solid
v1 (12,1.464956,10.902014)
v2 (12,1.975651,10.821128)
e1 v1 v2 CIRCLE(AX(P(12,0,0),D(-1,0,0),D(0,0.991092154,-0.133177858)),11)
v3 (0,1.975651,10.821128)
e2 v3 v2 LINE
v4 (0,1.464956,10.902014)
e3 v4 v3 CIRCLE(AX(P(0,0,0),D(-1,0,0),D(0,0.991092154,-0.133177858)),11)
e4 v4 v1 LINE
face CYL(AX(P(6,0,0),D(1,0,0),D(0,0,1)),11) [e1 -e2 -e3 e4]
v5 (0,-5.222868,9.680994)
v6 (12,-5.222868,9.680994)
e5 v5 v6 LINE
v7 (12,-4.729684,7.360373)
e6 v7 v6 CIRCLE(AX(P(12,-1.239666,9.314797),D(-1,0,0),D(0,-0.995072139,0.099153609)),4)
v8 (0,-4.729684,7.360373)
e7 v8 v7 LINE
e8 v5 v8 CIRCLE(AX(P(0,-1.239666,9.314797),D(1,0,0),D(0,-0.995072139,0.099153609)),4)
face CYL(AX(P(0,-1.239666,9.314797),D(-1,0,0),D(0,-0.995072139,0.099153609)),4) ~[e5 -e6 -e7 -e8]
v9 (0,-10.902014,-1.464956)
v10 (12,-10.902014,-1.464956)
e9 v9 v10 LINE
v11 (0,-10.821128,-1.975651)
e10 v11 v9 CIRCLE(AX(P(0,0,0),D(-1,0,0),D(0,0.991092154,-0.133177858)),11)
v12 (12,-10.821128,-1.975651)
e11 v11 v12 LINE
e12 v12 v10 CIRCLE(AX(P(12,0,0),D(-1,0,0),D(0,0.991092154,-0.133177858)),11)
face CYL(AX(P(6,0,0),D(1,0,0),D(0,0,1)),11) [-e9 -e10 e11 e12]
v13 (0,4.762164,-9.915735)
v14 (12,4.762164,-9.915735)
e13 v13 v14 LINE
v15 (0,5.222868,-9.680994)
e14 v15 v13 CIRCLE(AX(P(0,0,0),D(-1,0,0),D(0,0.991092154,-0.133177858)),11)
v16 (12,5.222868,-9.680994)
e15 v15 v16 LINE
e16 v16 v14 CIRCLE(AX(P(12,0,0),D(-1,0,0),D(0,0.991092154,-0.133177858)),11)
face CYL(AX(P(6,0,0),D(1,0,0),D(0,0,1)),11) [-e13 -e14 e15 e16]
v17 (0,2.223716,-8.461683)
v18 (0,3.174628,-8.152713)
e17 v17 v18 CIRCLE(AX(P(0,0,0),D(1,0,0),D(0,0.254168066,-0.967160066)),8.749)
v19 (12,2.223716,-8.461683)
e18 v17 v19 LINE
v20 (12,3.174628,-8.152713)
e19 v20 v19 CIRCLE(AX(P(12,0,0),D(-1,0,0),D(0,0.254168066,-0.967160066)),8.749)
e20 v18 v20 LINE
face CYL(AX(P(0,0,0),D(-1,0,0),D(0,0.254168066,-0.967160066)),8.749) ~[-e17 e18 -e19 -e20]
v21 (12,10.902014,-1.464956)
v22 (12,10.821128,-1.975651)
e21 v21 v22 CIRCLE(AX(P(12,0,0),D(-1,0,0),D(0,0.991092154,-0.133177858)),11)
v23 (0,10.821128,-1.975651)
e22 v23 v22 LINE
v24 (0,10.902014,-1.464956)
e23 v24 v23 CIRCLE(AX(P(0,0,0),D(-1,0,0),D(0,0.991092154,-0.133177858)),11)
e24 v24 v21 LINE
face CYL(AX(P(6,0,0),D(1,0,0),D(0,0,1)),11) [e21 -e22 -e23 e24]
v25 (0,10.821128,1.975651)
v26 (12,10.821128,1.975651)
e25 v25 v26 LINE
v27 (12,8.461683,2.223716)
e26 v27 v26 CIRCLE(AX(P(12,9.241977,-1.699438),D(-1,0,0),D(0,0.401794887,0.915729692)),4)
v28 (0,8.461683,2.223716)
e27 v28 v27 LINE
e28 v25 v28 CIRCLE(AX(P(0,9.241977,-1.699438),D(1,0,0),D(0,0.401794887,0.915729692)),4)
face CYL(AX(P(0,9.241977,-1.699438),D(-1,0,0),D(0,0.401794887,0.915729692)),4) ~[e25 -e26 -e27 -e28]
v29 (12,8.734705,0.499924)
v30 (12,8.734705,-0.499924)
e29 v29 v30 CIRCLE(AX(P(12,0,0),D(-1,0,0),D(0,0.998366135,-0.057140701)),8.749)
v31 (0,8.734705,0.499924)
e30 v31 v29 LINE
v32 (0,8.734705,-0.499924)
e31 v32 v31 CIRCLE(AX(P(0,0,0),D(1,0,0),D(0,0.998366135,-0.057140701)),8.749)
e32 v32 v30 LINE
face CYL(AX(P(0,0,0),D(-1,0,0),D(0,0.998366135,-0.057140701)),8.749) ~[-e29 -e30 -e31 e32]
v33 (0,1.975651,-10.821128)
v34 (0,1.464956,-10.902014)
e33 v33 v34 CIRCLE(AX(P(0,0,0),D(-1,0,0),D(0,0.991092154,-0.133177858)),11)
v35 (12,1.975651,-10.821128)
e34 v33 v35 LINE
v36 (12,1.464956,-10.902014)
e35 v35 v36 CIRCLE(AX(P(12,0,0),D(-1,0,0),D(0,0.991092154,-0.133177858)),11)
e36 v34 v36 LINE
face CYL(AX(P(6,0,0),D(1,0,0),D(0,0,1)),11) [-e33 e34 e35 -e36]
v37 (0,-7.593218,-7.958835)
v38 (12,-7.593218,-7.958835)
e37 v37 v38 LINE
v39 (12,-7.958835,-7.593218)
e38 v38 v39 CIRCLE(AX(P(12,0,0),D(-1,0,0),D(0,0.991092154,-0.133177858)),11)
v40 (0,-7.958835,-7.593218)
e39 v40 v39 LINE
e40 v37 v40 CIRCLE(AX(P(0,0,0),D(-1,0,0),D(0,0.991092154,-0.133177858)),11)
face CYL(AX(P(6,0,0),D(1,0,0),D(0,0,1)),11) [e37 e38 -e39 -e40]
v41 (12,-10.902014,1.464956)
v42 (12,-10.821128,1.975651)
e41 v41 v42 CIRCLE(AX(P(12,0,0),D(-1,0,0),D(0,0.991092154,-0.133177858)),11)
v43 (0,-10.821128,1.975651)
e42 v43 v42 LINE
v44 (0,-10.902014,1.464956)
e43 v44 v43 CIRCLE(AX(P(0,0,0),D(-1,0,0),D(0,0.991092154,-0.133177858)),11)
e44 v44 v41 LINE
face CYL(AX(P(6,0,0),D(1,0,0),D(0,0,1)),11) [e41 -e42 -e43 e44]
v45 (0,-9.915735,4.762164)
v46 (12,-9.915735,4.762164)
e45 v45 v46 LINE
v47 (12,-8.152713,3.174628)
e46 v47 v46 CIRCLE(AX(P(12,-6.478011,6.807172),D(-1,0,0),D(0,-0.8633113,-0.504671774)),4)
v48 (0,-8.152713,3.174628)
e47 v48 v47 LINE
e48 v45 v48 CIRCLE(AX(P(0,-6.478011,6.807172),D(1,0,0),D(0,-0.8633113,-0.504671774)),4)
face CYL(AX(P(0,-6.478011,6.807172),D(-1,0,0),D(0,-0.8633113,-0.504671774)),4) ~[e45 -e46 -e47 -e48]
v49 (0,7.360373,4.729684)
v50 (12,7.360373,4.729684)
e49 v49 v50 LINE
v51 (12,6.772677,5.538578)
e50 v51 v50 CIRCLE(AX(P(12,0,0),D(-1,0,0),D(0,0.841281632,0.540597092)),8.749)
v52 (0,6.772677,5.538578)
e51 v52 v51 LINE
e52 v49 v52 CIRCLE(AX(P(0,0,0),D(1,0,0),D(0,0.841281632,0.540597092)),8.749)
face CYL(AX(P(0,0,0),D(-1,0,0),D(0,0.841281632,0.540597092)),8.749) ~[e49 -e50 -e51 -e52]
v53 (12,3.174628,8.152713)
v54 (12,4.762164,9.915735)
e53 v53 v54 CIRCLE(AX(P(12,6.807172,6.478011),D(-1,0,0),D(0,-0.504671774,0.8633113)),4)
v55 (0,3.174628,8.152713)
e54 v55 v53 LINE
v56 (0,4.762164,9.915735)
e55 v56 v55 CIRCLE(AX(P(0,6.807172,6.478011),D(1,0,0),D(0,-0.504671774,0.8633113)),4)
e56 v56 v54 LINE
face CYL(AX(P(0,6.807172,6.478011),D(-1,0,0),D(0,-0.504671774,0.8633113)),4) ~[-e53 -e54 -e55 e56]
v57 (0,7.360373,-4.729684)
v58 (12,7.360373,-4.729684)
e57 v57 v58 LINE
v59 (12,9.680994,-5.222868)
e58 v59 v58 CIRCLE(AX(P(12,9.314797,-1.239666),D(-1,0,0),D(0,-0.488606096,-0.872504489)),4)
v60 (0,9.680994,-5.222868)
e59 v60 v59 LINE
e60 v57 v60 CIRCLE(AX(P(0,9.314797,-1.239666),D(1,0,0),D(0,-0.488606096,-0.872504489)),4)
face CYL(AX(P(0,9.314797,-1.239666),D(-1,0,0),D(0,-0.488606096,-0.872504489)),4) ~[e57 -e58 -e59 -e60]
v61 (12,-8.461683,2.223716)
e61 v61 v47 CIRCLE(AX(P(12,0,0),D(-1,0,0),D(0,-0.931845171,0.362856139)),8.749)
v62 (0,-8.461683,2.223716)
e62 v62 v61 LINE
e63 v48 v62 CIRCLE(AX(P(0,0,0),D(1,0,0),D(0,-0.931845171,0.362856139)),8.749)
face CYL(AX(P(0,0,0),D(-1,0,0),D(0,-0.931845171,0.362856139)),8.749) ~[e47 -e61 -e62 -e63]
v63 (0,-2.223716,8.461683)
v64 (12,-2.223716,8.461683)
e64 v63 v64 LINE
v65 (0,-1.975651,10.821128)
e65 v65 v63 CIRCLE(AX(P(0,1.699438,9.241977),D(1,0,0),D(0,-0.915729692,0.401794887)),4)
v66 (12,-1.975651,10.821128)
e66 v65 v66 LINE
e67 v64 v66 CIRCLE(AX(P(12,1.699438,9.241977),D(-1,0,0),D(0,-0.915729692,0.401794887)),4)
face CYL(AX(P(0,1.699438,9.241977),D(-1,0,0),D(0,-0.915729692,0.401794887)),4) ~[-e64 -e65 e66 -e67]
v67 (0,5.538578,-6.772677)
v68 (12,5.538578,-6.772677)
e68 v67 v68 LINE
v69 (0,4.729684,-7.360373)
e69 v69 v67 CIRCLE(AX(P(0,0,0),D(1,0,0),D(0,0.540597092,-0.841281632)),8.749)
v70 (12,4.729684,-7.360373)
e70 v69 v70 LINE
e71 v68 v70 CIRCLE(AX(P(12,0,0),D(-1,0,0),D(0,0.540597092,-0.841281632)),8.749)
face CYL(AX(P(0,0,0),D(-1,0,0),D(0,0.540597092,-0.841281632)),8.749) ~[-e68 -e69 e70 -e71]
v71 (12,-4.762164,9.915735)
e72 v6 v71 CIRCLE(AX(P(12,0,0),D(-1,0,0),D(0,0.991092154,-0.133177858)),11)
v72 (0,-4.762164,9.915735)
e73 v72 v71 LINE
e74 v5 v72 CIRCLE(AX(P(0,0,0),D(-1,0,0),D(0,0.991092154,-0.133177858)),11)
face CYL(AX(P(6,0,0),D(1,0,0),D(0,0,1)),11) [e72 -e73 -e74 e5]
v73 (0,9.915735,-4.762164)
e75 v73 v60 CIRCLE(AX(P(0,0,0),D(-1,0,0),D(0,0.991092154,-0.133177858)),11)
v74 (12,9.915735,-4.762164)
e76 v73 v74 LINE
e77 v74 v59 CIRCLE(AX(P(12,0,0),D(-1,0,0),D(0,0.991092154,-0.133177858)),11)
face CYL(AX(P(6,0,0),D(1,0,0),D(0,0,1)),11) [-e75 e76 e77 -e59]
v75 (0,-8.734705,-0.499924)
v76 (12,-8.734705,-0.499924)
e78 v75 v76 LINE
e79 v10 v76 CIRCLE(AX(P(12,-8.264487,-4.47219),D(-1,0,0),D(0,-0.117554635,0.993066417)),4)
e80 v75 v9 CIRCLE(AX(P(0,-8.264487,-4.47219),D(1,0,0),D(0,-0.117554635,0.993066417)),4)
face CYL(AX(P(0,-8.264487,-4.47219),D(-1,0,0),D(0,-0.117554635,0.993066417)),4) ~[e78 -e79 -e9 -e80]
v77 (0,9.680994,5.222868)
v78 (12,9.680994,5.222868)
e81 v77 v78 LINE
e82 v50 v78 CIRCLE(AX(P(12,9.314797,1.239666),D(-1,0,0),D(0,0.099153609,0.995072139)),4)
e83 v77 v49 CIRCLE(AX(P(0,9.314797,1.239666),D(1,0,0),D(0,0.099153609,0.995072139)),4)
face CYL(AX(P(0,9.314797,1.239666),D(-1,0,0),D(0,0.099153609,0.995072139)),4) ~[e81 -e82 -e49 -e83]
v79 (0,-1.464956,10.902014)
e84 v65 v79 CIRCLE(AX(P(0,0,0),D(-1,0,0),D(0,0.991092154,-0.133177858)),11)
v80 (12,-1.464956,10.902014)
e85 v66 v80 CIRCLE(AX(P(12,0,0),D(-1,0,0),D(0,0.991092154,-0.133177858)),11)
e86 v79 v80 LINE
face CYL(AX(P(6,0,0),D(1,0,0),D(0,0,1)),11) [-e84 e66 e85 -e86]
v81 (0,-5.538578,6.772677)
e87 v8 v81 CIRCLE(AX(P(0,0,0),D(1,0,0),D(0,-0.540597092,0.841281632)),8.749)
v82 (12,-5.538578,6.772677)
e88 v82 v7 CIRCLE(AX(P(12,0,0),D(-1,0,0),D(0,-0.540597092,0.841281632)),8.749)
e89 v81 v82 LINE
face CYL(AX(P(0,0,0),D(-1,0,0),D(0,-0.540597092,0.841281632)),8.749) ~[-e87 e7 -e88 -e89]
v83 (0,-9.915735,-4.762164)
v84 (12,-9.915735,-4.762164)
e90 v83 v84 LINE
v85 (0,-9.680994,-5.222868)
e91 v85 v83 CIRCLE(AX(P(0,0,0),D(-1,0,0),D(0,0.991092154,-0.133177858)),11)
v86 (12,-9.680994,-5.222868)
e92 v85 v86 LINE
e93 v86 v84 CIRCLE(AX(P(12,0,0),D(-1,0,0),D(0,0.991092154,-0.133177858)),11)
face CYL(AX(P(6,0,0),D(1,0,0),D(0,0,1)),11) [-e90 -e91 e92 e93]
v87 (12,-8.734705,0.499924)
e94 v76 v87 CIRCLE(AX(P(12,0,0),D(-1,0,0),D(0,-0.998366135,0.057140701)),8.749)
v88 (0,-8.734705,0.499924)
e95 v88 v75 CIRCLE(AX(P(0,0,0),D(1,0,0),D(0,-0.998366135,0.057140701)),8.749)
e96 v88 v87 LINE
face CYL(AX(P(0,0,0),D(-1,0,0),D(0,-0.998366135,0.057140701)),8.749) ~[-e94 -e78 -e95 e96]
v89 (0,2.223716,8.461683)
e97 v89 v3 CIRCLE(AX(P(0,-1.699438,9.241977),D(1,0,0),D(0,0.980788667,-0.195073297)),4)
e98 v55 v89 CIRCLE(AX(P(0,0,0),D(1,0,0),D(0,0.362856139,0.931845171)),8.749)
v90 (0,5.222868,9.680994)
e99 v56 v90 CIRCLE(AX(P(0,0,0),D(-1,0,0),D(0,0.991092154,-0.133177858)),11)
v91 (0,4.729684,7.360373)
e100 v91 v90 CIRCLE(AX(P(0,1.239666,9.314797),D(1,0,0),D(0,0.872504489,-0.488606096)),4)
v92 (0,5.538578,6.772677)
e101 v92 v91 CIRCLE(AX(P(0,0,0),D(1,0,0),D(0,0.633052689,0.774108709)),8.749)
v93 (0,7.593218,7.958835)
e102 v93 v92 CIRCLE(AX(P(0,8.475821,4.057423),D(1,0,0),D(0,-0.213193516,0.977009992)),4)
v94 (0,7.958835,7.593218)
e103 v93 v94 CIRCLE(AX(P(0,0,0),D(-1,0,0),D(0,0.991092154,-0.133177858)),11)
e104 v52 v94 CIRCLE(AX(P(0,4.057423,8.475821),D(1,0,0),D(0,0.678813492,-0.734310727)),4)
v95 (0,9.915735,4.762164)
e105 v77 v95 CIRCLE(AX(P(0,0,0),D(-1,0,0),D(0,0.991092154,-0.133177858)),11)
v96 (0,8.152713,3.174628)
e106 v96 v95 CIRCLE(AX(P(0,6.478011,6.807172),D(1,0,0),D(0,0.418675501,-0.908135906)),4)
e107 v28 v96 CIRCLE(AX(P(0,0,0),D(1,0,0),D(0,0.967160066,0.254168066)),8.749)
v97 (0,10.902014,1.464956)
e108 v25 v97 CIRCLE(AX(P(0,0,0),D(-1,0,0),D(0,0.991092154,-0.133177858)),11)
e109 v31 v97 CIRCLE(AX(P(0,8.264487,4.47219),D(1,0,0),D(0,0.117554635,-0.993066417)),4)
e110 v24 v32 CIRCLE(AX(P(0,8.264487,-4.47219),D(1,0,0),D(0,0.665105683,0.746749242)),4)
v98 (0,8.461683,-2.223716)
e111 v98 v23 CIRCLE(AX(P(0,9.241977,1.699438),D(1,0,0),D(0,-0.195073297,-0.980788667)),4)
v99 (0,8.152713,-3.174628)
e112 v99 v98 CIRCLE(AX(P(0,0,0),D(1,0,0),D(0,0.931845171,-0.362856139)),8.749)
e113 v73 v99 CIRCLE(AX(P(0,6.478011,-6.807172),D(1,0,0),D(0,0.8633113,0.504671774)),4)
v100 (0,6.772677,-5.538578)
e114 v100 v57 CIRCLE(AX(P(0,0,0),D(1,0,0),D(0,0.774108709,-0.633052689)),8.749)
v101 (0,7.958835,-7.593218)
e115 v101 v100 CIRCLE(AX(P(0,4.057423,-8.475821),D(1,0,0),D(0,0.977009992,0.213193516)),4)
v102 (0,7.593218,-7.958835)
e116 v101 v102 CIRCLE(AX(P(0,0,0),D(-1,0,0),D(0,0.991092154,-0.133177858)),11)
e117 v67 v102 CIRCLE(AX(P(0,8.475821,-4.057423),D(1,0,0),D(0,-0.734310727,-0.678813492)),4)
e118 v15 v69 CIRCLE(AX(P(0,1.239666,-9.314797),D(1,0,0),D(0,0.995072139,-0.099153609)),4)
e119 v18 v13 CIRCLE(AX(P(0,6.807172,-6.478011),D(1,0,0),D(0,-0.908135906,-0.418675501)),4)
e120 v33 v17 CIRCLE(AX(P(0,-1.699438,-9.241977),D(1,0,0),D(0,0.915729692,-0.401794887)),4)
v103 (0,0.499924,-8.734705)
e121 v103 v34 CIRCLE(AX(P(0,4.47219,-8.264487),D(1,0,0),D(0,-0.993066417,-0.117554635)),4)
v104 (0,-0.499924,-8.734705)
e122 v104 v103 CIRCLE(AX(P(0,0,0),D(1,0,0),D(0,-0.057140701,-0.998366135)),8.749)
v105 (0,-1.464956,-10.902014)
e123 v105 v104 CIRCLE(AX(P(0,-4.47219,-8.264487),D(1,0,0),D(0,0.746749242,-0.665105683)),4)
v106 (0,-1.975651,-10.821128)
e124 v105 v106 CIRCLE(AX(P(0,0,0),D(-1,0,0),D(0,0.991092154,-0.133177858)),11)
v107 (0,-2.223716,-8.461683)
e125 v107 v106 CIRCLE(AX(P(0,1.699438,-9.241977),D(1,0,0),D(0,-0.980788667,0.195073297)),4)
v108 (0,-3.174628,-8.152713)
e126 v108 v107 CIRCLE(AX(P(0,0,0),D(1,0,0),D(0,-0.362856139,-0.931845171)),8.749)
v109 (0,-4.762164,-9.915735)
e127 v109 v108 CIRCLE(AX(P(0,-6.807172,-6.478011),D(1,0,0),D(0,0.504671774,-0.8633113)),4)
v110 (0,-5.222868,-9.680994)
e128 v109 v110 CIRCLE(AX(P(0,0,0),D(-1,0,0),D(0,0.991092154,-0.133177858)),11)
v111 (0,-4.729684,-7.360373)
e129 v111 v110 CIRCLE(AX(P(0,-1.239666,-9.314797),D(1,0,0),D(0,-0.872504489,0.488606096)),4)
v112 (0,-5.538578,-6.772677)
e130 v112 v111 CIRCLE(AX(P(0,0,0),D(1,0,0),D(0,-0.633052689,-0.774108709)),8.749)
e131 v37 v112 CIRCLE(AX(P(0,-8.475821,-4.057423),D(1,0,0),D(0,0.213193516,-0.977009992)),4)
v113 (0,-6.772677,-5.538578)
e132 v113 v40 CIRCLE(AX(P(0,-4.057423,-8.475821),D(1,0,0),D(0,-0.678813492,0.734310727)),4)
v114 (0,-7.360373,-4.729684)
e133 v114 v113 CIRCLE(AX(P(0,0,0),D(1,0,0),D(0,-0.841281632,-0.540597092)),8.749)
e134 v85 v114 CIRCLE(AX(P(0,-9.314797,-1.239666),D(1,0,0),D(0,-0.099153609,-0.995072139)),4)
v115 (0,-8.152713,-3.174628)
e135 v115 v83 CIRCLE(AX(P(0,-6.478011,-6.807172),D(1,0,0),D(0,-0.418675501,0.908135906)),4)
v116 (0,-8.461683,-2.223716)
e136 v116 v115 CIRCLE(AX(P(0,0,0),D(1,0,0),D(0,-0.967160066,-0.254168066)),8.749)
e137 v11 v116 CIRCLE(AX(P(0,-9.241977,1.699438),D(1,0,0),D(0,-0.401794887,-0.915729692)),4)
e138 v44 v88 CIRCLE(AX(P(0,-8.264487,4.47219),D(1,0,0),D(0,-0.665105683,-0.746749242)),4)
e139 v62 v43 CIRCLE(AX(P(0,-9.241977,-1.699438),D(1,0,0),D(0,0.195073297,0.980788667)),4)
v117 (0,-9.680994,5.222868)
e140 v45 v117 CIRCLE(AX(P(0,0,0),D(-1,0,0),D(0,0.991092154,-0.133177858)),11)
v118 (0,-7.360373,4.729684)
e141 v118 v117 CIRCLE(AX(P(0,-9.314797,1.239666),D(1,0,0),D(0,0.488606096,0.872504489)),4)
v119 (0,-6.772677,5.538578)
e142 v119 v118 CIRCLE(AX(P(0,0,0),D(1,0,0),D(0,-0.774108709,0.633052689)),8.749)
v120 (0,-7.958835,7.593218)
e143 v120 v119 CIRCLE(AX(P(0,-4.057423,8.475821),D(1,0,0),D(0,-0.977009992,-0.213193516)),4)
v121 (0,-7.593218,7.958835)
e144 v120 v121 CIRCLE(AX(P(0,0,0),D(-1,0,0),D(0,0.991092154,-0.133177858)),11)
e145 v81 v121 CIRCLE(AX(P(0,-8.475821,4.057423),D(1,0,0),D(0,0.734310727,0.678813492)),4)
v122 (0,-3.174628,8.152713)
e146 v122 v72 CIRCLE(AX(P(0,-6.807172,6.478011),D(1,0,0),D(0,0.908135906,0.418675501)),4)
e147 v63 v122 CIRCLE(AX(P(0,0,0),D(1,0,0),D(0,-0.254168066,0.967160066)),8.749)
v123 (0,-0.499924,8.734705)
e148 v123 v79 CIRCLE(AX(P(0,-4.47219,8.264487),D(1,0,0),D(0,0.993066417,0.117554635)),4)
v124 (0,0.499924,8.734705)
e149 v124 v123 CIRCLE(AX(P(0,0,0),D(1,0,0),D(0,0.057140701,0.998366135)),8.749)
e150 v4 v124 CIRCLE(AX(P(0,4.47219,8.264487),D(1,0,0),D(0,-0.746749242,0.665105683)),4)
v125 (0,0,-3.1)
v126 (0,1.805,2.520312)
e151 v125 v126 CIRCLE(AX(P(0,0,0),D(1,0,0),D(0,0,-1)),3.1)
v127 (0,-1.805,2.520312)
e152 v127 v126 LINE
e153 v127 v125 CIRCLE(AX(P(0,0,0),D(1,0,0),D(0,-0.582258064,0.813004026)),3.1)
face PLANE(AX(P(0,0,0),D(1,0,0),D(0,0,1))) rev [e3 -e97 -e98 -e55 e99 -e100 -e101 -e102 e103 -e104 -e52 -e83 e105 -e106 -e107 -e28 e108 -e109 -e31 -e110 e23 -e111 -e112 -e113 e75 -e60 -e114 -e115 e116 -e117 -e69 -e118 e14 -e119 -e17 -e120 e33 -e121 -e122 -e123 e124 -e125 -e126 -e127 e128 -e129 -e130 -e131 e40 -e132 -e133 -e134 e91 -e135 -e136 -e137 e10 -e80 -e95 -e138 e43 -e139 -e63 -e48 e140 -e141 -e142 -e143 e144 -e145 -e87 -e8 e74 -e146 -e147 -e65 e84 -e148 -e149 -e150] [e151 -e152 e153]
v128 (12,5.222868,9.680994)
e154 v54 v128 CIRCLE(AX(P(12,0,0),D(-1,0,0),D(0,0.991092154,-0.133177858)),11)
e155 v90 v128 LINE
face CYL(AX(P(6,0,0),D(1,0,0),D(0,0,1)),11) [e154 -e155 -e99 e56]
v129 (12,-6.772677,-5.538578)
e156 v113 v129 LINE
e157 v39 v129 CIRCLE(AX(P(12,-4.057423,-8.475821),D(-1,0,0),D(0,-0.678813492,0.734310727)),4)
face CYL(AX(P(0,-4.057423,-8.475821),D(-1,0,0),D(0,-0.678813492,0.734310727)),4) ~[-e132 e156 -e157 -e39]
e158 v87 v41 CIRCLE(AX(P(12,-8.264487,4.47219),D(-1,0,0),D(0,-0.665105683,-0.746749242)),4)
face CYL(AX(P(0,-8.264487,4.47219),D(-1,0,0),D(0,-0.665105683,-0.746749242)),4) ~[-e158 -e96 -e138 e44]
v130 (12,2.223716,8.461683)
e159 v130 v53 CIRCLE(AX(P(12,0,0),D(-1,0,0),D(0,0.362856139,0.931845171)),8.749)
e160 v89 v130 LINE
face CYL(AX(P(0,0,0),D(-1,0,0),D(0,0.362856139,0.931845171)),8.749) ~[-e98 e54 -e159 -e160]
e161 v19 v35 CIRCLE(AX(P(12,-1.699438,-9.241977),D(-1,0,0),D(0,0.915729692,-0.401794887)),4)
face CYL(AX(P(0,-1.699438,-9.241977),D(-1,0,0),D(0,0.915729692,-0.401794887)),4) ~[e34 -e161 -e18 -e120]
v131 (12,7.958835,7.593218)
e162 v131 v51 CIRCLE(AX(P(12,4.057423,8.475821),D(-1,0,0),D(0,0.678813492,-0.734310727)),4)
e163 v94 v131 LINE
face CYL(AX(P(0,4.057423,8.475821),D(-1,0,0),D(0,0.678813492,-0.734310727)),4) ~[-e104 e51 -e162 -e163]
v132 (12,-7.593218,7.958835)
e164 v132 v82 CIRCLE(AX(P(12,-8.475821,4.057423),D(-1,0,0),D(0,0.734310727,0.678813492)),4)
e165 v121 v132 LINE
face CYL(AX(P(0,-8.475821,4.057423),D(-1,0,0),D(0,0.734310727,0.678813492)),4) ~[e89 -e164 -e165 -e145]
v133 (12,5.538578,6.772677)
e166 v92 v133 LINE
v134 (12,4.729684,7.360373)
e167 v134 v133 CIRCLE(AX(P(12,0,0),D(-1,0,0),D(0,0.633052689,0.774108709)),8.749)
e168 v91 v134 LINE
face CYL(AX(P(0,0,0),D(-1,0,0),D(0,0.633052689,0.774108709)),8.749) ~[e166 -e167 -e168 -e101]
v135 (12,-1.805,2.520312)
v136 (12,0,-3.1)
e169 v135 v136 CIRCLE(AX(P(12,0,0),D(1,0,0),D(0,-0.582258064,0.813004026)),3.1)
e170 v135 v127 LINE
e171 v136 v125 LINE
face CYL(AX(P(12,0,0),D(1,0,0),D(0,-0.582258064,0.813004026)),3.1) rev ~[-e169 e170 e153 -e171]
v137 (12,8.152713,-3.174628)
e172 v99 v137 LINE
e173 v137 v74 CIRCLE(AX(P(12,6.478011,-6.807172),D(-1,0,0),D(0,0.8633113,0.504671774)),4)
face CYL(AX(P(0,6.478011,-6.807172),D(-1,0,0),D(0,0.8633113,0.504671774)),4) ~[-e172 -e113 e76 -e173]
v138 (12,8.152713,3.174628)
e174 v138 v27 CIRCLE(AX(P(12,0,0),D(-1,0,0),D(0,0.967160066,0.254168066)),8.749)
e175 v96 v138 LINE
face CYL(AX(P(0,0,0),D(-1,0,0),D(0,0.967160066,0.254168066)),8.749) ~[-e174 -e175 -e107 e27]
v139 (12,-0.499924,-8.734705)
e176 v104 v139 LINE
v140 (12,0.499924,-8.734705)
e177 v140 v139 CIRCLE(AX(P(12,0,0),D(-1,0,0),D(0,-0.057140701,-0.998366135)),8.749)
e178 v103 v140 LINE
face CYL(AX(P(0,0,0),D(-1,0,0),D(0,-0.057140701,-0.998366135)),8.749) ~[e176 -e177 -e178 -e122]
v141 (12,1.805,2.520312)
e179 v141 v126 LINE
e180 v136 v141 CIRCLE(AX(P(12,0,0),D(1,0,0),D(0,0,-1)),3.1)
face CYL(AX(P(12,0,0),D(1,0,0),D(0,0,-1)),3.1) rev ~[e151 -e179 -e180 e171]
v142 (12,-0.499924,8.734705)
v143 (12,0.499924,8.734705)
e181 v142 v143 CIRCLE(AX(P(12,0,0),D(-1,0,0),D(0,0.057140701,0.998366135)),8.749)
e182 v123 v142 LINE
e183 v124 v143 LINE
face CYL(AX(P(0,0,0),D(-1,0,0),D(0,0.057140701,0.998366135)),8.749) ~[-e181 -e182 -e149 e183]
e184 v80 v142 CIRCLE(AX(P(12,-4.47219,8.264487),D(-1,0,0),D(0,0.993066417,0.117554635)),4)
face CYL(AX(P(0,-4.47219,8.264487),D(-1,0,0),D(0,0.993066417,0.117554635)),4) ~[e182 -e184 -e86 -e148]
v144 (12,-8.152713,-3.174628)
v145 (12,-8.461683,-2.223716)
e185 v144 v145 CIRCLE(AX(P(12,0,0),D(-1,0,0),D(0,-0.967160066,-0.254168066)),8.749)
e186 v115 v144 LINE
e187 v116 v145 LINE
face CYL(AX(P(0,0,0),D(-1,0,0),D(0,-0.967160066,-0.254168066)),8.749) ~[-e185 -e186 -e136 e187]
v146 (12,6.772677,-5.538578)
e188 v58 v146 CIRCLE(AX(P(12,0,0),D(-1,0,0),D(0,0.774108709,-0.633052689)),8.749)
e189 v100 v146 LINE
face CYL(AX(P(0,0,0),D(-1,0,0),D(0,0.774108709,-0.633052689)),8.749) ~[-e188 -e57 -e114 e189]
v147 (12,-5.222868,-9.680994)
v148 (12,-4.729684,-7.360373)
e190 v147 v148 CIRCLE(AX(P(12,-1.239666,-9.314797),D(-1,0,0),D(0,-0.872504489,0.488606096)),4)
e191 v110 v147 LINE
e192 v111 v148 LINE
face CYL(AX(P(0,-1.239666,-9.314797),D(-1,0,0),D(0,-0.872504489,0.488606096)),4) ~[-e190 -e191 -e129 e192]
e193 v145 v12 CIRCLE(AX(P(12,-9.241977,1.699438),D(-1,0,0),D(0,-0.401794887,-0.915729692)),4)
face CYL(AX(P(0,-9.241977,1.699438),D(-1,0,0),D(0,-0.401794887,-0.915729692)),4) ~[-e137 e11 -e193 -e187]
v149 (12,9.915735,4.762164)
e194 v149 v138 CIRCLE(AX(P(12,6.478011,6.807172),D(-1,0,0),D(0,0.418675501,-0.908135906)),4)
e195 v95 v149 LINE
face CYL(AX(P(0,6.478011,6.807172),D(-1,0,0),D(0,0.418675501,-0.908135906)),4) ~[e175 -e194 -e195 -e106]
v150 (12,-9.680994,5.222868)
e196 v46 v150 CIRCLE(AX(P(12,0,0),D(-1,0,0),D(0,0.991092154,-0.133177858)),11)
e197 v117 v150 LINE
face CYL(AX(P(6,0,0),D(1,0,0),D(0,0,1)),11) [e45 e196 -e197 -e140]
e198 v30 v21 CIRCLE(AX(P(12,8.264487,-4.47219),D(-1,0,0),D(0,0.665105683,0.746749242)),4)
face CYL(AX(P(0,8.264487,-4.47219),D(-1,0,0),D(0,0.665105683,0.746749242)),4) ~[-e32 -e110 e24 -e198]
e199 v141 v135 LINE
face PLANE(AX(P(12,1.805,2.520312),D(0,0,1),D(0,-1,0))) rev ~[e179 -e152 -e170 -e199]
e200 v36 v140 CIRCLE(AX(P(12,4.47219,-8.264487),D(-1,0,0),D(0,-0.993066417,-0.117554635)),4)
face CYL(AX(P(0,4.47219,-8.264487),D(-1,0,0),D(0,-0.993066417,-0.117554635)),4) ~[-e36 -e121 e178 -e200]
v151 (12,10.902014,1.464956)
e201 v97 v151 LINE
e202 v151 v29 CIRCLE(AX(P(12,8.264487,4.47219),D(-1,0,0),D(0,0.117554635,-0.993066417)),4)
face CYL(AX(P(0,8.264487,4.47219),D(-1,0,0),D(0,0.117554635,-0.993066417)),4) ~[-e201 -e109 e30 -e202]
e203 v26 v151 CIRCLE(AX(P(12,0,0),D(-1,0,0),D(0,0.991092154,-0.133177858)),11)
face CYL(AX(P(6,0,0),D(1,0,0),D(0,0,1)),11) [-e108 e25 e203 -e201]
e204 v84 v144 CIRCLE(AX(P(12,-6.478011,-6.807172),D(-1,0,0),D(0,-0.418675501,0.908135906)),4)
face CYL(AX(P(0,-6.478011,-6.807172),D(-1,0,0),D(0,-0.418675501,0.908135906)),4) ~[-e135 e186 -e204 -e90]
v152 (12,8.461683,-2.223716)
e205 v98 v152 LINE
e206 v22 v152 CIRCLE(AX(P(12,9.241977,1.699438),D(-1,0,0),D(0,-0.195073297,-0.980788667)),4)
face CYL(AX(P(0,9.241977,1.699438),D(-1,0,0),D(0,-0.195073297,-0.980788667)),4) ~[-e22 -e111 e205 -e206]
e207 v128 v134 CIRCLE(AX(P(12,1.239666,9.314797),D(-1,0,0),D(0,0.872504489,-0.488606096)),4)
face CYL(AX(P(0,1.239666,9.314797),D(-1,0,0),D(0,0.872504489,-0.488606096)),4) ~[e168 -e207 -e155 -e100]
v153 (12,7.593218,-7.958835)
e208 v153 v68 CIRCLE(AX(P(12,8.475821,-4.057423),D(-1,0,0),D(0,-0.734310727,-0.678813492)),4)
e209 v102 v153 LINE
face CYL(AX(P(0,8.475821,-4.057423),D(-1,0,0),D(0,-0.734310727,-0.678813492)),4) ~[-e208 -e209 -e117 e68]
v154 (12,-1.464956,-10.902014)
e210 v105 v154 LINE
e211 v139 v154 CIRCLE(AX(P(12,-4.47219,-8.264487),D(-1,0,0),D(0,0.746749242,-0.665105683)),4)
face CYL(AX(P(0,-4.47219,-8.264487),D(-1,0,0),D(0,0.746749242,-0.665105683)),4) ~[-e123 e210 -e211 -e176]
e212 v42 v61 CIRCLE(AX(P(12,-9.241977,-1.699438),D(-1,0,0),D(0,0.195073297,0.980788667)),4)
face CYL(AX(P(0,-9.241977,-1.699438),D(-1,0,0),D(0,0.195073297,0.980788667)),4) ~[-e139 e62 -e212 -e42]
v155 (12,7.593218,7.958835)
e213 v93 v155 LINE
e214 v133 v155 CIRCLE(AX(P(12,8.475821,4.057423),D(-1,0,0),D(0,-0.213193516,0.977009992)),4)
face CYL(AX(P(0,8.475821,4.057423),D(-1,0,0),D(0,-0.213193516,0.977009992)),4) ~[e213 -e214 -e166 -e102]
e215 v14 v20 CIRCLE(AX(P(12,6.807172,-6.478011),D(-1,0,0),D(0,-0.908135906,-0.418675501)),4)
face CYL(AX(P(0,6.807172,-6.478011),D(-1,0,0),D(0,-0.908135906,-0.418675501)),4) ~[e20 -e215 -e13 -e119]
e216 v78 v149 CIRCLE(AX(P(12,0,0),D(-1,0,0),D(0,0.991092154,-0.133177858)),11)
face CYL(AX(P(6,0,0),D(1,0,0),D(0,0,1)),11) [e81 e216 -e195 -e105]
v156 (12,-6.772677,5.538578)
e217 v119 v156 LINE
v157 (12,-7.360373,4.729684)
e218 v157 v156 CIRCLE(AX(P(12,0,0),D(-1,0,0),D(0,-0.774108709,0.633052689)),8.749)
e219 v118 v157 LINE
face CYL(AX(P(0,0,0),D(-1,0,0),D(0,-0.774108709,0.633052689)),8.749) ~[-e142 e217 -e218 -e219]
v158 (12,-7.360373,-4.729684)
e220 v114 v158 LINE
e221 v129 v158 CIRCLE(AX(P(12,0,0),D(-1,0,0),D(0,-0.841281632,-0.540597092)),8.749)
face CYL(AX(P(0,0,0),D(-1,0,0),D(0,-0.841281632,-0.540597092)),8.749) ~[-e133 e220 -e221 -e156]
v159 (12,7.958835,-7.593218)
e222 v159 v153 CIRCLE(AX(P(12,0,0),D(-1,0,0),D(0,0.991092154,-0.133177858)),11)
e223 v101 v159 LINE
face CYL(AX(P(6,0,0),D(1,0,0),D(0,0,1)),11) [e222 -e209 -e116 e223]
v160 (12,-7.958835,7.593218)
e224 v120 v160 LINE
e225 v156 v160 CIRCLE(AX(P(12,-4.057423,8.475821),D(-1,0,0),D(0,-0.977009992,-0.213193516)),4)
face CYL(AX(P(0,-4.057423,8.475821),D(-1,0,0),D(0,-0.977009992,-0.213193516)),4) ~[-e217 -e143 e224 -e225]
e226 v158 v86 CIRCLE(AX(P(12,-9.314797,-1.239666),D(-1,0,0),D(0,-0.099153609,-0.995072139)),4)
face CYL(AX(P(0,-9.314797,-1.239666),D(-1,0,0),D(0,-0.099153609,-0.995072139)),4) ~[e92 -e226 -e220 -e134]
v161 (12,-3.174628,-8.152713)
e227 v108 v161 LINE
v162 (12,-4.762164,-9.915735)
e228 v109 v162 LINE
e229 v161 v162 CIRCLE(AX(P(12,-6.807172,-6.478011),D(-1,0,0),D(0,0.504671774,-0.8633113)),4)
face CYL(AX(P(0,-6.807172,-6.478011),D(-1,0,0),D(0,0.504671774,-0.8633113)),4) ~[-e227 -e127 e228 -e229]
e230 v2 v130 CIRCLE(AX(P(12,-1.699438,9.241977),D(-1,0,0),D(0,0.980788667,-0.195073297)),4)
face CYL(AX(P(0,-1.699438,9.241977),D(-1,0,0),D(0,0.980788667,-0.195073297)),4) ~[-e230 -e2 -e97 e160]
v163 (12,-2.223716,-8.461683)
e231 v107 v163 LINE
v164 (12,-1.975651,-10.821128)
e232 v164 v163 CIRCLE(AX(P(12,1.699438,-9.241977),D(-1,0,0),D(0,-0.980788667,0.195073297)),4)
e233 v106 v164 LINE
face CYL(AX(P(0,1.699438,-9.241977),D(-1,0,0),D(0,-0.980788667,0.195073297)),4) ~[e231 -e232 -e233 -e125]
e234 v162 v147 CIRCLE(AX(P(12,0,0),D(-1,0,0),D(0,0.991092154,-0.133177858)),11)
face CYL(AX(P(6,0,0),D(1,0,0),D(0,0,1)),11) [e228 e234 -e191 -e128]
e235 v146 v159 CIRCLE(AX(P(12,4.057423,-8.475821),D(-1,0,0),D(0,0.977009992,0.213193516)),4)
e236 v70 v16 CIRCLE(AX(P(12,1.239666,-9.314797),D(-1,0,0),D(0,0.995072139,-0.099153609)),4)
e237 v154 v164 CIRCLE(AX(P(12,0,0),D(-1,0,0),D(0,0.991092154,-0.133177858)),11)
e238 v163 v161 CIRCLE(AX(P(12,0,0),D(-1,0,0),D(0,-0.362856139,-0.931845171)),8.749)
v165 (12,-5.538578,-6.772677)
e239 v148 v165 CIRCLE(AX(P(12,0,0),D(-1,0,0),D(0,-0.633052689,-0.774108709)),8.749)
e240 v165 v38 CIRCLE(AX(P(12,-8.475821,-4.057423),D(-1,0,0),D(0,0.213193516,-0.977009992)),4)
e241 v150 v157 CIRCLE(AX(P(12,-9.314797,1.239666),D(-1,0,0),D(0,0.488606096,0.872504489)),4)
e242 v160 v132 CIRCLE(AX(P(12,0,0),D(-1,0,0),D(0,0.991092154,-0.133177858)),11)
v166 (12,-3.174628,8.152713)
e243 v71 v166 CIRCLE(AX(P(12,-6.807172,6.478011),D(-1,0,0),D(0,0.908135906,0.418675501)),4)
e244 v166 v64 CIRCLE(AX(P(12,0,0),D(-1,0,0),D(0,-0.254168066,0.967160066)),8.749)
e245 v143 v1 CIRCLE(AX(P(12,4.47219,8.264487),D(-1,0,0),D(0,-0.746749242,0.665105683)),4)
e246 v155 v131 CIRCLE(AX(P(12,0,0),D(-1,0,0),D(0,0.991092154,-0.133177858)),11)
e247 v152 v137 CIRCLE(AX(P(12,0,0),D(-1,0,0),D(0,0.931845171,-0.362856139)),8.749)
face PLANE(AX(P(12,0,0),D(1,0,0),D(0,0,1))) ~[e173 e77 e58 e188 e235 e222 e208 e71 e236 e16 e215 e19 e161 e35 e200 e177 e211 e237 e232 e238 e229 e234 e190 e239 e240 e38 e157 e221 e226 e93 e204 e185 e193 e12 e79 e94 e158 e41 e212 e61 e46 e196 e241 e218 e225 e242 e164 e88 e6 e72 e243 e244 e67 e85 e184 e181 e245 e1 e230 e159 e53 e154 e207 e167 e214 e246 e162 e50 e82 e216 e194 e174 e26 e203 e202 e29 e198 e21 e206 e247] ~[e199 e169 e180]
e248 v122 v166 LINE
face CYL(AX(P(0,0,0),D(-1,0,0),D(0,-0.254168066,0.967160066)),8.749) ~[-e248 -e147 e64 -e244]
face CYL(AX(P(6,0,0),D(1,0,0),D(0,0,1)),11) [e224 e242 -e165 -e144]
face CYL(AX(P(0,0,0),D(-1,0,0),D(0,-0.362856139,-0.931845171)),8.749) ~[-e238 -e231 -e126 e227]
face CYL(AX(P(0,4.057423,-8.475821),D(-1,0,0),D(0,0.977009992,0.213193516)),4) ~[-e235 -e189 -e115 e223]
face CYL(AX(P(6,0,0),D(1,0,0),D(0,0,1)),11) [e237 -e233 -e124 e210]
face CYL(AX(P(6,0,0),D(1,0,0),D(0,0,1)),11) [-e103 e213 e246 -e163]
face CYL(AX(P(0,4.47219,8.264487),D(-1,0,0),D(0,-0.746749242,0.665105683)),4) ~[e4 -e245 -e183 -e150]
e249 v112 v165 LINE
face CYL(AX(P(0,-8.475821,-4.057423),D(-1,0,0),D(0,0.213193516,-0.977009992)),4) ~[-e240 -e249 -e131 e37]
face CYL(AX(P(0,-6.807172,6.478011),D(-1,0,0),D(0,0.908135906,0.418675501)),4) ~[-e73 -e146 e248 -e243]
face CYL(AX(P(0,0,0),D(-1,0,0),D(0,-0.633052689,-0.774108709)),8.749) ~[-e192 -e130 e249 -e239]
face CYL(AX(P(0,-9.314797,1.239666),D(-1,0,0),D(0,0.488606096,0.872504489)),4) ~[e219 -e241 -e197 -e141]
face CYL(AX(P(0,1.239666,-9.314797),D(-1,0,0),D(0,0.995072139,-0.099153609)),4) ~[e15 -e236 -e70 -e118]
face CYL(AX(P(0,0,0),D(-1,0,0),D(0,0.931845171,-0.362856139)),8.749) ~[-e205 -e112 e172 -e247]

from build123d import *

# Parameters (mm, degrees)
BASPROSKE_W           = 12
BASPROSKE_H           = 11
TOOTHCUT_DEPTH        = 20.646882704
TEETHCUTS_COUNT       = 20
TEETHCUTS_ANGLE       = 342
BORSKE_R              = 0.4
BORE_DEPTH            = 50.0000508
KES_EKSTR_ZYON1_DEPTH = 20


with BuildPart() as part:
    # BasProSke → Base-Revolve (revolve)
    with BuildSketch(Plane(origin=(0, 0, 0), x_dir=(1, 0, 0), z_dir=(0, 1, 0)), mode=Mode.PRIVATE) as base_revolve_sk:
        with Locations((6, 5.5)):
            Rectangle(BASPROSKE_W, BASPROSKE_H)
    revolve(base_revolve_sk.sketch.rotate(Axis((-10, 0, 0), (1, 0, 0)), 180), axis=Axis((-10, 0, 0), (1, 0, 0)))

    # TooCutSke → ToothCut (cut, through all)
    with BuildSketch(Plane(origin=(0, 0, 0), x_dir=(0, 0, -1), z_dir=(1, 0, 0))):
        with BuildLine():
            ThreePointArc((0.499924007, 8.734705318), (0, 8.749), (-0.499924007, 8.734705318))
            ThreePointArc((-0.499924007, 8.734705318), (-0.824302243, 9.905497836), (-1.485192705, 10.924909509))
            ThreePointArc((-1.485192705, 10.924909509), (0, 11.0254), (1.485192705, 10.924909509))
            ThreePointArc((1.485192705, 10.924909509), (0.824302243, 9.905497836), (0.499924007, 8.734705318))
        make_face()
    toothcut = extrude(amount=TOOTHCUT_DEPTH, mode=Mode.SUBTRACT)

    # TeethCuts: ToothCut ×20 about axis
    teethcuts_axis = Axis((-10, 0, 0), (1, 0, 0))
    for i in range(1, TEETHCUTS_COUNT):
        add(toothcut.rotate(teethcuts_axis, i * TEETHCUTS_ANGLE / (TEETHCUTS_COUNT - 1)), mode=Mode.SUBTRACT)

    # BorSke → Bore (cut, symmetric)
    with BuildSketch(Plane(origin=(0, 0, 0), x_dir=(0, 0, -1), z_dir=(1, 0, 0))):
        with Locations(Location((0, 0, 0), (0, 0, 180))):
            Circle(BORSKE_R)
    extrude(amount=BORE_DEPTH, both=True, mode=Mode.SUBTRACT)

    # Çizim1 → Kes-Ekstrüzyon1 (cut)
    with BuildSketch(Plane(origin=(12, 0, 0), x_dir=(0, 0, -1), z_dir=(1, 0, 0))):
        with BuildLine():
            ThreePointArc((3.1, 0), (0.947900657, 2.951522378), (-2.520312481, 1.805))
            Line((-2.520312481, 1.805), (-2.520312481, -1.805))
            ThreePointArc((-2.520312481, -1.805), (0.947900657, -2.951522378), (3.1, 0))
        make_face()
    extrude(amount=-KES_EKSTR_ZYON1_DEPTH, mode=Mode.SUBTRACT)


solid = part.part
